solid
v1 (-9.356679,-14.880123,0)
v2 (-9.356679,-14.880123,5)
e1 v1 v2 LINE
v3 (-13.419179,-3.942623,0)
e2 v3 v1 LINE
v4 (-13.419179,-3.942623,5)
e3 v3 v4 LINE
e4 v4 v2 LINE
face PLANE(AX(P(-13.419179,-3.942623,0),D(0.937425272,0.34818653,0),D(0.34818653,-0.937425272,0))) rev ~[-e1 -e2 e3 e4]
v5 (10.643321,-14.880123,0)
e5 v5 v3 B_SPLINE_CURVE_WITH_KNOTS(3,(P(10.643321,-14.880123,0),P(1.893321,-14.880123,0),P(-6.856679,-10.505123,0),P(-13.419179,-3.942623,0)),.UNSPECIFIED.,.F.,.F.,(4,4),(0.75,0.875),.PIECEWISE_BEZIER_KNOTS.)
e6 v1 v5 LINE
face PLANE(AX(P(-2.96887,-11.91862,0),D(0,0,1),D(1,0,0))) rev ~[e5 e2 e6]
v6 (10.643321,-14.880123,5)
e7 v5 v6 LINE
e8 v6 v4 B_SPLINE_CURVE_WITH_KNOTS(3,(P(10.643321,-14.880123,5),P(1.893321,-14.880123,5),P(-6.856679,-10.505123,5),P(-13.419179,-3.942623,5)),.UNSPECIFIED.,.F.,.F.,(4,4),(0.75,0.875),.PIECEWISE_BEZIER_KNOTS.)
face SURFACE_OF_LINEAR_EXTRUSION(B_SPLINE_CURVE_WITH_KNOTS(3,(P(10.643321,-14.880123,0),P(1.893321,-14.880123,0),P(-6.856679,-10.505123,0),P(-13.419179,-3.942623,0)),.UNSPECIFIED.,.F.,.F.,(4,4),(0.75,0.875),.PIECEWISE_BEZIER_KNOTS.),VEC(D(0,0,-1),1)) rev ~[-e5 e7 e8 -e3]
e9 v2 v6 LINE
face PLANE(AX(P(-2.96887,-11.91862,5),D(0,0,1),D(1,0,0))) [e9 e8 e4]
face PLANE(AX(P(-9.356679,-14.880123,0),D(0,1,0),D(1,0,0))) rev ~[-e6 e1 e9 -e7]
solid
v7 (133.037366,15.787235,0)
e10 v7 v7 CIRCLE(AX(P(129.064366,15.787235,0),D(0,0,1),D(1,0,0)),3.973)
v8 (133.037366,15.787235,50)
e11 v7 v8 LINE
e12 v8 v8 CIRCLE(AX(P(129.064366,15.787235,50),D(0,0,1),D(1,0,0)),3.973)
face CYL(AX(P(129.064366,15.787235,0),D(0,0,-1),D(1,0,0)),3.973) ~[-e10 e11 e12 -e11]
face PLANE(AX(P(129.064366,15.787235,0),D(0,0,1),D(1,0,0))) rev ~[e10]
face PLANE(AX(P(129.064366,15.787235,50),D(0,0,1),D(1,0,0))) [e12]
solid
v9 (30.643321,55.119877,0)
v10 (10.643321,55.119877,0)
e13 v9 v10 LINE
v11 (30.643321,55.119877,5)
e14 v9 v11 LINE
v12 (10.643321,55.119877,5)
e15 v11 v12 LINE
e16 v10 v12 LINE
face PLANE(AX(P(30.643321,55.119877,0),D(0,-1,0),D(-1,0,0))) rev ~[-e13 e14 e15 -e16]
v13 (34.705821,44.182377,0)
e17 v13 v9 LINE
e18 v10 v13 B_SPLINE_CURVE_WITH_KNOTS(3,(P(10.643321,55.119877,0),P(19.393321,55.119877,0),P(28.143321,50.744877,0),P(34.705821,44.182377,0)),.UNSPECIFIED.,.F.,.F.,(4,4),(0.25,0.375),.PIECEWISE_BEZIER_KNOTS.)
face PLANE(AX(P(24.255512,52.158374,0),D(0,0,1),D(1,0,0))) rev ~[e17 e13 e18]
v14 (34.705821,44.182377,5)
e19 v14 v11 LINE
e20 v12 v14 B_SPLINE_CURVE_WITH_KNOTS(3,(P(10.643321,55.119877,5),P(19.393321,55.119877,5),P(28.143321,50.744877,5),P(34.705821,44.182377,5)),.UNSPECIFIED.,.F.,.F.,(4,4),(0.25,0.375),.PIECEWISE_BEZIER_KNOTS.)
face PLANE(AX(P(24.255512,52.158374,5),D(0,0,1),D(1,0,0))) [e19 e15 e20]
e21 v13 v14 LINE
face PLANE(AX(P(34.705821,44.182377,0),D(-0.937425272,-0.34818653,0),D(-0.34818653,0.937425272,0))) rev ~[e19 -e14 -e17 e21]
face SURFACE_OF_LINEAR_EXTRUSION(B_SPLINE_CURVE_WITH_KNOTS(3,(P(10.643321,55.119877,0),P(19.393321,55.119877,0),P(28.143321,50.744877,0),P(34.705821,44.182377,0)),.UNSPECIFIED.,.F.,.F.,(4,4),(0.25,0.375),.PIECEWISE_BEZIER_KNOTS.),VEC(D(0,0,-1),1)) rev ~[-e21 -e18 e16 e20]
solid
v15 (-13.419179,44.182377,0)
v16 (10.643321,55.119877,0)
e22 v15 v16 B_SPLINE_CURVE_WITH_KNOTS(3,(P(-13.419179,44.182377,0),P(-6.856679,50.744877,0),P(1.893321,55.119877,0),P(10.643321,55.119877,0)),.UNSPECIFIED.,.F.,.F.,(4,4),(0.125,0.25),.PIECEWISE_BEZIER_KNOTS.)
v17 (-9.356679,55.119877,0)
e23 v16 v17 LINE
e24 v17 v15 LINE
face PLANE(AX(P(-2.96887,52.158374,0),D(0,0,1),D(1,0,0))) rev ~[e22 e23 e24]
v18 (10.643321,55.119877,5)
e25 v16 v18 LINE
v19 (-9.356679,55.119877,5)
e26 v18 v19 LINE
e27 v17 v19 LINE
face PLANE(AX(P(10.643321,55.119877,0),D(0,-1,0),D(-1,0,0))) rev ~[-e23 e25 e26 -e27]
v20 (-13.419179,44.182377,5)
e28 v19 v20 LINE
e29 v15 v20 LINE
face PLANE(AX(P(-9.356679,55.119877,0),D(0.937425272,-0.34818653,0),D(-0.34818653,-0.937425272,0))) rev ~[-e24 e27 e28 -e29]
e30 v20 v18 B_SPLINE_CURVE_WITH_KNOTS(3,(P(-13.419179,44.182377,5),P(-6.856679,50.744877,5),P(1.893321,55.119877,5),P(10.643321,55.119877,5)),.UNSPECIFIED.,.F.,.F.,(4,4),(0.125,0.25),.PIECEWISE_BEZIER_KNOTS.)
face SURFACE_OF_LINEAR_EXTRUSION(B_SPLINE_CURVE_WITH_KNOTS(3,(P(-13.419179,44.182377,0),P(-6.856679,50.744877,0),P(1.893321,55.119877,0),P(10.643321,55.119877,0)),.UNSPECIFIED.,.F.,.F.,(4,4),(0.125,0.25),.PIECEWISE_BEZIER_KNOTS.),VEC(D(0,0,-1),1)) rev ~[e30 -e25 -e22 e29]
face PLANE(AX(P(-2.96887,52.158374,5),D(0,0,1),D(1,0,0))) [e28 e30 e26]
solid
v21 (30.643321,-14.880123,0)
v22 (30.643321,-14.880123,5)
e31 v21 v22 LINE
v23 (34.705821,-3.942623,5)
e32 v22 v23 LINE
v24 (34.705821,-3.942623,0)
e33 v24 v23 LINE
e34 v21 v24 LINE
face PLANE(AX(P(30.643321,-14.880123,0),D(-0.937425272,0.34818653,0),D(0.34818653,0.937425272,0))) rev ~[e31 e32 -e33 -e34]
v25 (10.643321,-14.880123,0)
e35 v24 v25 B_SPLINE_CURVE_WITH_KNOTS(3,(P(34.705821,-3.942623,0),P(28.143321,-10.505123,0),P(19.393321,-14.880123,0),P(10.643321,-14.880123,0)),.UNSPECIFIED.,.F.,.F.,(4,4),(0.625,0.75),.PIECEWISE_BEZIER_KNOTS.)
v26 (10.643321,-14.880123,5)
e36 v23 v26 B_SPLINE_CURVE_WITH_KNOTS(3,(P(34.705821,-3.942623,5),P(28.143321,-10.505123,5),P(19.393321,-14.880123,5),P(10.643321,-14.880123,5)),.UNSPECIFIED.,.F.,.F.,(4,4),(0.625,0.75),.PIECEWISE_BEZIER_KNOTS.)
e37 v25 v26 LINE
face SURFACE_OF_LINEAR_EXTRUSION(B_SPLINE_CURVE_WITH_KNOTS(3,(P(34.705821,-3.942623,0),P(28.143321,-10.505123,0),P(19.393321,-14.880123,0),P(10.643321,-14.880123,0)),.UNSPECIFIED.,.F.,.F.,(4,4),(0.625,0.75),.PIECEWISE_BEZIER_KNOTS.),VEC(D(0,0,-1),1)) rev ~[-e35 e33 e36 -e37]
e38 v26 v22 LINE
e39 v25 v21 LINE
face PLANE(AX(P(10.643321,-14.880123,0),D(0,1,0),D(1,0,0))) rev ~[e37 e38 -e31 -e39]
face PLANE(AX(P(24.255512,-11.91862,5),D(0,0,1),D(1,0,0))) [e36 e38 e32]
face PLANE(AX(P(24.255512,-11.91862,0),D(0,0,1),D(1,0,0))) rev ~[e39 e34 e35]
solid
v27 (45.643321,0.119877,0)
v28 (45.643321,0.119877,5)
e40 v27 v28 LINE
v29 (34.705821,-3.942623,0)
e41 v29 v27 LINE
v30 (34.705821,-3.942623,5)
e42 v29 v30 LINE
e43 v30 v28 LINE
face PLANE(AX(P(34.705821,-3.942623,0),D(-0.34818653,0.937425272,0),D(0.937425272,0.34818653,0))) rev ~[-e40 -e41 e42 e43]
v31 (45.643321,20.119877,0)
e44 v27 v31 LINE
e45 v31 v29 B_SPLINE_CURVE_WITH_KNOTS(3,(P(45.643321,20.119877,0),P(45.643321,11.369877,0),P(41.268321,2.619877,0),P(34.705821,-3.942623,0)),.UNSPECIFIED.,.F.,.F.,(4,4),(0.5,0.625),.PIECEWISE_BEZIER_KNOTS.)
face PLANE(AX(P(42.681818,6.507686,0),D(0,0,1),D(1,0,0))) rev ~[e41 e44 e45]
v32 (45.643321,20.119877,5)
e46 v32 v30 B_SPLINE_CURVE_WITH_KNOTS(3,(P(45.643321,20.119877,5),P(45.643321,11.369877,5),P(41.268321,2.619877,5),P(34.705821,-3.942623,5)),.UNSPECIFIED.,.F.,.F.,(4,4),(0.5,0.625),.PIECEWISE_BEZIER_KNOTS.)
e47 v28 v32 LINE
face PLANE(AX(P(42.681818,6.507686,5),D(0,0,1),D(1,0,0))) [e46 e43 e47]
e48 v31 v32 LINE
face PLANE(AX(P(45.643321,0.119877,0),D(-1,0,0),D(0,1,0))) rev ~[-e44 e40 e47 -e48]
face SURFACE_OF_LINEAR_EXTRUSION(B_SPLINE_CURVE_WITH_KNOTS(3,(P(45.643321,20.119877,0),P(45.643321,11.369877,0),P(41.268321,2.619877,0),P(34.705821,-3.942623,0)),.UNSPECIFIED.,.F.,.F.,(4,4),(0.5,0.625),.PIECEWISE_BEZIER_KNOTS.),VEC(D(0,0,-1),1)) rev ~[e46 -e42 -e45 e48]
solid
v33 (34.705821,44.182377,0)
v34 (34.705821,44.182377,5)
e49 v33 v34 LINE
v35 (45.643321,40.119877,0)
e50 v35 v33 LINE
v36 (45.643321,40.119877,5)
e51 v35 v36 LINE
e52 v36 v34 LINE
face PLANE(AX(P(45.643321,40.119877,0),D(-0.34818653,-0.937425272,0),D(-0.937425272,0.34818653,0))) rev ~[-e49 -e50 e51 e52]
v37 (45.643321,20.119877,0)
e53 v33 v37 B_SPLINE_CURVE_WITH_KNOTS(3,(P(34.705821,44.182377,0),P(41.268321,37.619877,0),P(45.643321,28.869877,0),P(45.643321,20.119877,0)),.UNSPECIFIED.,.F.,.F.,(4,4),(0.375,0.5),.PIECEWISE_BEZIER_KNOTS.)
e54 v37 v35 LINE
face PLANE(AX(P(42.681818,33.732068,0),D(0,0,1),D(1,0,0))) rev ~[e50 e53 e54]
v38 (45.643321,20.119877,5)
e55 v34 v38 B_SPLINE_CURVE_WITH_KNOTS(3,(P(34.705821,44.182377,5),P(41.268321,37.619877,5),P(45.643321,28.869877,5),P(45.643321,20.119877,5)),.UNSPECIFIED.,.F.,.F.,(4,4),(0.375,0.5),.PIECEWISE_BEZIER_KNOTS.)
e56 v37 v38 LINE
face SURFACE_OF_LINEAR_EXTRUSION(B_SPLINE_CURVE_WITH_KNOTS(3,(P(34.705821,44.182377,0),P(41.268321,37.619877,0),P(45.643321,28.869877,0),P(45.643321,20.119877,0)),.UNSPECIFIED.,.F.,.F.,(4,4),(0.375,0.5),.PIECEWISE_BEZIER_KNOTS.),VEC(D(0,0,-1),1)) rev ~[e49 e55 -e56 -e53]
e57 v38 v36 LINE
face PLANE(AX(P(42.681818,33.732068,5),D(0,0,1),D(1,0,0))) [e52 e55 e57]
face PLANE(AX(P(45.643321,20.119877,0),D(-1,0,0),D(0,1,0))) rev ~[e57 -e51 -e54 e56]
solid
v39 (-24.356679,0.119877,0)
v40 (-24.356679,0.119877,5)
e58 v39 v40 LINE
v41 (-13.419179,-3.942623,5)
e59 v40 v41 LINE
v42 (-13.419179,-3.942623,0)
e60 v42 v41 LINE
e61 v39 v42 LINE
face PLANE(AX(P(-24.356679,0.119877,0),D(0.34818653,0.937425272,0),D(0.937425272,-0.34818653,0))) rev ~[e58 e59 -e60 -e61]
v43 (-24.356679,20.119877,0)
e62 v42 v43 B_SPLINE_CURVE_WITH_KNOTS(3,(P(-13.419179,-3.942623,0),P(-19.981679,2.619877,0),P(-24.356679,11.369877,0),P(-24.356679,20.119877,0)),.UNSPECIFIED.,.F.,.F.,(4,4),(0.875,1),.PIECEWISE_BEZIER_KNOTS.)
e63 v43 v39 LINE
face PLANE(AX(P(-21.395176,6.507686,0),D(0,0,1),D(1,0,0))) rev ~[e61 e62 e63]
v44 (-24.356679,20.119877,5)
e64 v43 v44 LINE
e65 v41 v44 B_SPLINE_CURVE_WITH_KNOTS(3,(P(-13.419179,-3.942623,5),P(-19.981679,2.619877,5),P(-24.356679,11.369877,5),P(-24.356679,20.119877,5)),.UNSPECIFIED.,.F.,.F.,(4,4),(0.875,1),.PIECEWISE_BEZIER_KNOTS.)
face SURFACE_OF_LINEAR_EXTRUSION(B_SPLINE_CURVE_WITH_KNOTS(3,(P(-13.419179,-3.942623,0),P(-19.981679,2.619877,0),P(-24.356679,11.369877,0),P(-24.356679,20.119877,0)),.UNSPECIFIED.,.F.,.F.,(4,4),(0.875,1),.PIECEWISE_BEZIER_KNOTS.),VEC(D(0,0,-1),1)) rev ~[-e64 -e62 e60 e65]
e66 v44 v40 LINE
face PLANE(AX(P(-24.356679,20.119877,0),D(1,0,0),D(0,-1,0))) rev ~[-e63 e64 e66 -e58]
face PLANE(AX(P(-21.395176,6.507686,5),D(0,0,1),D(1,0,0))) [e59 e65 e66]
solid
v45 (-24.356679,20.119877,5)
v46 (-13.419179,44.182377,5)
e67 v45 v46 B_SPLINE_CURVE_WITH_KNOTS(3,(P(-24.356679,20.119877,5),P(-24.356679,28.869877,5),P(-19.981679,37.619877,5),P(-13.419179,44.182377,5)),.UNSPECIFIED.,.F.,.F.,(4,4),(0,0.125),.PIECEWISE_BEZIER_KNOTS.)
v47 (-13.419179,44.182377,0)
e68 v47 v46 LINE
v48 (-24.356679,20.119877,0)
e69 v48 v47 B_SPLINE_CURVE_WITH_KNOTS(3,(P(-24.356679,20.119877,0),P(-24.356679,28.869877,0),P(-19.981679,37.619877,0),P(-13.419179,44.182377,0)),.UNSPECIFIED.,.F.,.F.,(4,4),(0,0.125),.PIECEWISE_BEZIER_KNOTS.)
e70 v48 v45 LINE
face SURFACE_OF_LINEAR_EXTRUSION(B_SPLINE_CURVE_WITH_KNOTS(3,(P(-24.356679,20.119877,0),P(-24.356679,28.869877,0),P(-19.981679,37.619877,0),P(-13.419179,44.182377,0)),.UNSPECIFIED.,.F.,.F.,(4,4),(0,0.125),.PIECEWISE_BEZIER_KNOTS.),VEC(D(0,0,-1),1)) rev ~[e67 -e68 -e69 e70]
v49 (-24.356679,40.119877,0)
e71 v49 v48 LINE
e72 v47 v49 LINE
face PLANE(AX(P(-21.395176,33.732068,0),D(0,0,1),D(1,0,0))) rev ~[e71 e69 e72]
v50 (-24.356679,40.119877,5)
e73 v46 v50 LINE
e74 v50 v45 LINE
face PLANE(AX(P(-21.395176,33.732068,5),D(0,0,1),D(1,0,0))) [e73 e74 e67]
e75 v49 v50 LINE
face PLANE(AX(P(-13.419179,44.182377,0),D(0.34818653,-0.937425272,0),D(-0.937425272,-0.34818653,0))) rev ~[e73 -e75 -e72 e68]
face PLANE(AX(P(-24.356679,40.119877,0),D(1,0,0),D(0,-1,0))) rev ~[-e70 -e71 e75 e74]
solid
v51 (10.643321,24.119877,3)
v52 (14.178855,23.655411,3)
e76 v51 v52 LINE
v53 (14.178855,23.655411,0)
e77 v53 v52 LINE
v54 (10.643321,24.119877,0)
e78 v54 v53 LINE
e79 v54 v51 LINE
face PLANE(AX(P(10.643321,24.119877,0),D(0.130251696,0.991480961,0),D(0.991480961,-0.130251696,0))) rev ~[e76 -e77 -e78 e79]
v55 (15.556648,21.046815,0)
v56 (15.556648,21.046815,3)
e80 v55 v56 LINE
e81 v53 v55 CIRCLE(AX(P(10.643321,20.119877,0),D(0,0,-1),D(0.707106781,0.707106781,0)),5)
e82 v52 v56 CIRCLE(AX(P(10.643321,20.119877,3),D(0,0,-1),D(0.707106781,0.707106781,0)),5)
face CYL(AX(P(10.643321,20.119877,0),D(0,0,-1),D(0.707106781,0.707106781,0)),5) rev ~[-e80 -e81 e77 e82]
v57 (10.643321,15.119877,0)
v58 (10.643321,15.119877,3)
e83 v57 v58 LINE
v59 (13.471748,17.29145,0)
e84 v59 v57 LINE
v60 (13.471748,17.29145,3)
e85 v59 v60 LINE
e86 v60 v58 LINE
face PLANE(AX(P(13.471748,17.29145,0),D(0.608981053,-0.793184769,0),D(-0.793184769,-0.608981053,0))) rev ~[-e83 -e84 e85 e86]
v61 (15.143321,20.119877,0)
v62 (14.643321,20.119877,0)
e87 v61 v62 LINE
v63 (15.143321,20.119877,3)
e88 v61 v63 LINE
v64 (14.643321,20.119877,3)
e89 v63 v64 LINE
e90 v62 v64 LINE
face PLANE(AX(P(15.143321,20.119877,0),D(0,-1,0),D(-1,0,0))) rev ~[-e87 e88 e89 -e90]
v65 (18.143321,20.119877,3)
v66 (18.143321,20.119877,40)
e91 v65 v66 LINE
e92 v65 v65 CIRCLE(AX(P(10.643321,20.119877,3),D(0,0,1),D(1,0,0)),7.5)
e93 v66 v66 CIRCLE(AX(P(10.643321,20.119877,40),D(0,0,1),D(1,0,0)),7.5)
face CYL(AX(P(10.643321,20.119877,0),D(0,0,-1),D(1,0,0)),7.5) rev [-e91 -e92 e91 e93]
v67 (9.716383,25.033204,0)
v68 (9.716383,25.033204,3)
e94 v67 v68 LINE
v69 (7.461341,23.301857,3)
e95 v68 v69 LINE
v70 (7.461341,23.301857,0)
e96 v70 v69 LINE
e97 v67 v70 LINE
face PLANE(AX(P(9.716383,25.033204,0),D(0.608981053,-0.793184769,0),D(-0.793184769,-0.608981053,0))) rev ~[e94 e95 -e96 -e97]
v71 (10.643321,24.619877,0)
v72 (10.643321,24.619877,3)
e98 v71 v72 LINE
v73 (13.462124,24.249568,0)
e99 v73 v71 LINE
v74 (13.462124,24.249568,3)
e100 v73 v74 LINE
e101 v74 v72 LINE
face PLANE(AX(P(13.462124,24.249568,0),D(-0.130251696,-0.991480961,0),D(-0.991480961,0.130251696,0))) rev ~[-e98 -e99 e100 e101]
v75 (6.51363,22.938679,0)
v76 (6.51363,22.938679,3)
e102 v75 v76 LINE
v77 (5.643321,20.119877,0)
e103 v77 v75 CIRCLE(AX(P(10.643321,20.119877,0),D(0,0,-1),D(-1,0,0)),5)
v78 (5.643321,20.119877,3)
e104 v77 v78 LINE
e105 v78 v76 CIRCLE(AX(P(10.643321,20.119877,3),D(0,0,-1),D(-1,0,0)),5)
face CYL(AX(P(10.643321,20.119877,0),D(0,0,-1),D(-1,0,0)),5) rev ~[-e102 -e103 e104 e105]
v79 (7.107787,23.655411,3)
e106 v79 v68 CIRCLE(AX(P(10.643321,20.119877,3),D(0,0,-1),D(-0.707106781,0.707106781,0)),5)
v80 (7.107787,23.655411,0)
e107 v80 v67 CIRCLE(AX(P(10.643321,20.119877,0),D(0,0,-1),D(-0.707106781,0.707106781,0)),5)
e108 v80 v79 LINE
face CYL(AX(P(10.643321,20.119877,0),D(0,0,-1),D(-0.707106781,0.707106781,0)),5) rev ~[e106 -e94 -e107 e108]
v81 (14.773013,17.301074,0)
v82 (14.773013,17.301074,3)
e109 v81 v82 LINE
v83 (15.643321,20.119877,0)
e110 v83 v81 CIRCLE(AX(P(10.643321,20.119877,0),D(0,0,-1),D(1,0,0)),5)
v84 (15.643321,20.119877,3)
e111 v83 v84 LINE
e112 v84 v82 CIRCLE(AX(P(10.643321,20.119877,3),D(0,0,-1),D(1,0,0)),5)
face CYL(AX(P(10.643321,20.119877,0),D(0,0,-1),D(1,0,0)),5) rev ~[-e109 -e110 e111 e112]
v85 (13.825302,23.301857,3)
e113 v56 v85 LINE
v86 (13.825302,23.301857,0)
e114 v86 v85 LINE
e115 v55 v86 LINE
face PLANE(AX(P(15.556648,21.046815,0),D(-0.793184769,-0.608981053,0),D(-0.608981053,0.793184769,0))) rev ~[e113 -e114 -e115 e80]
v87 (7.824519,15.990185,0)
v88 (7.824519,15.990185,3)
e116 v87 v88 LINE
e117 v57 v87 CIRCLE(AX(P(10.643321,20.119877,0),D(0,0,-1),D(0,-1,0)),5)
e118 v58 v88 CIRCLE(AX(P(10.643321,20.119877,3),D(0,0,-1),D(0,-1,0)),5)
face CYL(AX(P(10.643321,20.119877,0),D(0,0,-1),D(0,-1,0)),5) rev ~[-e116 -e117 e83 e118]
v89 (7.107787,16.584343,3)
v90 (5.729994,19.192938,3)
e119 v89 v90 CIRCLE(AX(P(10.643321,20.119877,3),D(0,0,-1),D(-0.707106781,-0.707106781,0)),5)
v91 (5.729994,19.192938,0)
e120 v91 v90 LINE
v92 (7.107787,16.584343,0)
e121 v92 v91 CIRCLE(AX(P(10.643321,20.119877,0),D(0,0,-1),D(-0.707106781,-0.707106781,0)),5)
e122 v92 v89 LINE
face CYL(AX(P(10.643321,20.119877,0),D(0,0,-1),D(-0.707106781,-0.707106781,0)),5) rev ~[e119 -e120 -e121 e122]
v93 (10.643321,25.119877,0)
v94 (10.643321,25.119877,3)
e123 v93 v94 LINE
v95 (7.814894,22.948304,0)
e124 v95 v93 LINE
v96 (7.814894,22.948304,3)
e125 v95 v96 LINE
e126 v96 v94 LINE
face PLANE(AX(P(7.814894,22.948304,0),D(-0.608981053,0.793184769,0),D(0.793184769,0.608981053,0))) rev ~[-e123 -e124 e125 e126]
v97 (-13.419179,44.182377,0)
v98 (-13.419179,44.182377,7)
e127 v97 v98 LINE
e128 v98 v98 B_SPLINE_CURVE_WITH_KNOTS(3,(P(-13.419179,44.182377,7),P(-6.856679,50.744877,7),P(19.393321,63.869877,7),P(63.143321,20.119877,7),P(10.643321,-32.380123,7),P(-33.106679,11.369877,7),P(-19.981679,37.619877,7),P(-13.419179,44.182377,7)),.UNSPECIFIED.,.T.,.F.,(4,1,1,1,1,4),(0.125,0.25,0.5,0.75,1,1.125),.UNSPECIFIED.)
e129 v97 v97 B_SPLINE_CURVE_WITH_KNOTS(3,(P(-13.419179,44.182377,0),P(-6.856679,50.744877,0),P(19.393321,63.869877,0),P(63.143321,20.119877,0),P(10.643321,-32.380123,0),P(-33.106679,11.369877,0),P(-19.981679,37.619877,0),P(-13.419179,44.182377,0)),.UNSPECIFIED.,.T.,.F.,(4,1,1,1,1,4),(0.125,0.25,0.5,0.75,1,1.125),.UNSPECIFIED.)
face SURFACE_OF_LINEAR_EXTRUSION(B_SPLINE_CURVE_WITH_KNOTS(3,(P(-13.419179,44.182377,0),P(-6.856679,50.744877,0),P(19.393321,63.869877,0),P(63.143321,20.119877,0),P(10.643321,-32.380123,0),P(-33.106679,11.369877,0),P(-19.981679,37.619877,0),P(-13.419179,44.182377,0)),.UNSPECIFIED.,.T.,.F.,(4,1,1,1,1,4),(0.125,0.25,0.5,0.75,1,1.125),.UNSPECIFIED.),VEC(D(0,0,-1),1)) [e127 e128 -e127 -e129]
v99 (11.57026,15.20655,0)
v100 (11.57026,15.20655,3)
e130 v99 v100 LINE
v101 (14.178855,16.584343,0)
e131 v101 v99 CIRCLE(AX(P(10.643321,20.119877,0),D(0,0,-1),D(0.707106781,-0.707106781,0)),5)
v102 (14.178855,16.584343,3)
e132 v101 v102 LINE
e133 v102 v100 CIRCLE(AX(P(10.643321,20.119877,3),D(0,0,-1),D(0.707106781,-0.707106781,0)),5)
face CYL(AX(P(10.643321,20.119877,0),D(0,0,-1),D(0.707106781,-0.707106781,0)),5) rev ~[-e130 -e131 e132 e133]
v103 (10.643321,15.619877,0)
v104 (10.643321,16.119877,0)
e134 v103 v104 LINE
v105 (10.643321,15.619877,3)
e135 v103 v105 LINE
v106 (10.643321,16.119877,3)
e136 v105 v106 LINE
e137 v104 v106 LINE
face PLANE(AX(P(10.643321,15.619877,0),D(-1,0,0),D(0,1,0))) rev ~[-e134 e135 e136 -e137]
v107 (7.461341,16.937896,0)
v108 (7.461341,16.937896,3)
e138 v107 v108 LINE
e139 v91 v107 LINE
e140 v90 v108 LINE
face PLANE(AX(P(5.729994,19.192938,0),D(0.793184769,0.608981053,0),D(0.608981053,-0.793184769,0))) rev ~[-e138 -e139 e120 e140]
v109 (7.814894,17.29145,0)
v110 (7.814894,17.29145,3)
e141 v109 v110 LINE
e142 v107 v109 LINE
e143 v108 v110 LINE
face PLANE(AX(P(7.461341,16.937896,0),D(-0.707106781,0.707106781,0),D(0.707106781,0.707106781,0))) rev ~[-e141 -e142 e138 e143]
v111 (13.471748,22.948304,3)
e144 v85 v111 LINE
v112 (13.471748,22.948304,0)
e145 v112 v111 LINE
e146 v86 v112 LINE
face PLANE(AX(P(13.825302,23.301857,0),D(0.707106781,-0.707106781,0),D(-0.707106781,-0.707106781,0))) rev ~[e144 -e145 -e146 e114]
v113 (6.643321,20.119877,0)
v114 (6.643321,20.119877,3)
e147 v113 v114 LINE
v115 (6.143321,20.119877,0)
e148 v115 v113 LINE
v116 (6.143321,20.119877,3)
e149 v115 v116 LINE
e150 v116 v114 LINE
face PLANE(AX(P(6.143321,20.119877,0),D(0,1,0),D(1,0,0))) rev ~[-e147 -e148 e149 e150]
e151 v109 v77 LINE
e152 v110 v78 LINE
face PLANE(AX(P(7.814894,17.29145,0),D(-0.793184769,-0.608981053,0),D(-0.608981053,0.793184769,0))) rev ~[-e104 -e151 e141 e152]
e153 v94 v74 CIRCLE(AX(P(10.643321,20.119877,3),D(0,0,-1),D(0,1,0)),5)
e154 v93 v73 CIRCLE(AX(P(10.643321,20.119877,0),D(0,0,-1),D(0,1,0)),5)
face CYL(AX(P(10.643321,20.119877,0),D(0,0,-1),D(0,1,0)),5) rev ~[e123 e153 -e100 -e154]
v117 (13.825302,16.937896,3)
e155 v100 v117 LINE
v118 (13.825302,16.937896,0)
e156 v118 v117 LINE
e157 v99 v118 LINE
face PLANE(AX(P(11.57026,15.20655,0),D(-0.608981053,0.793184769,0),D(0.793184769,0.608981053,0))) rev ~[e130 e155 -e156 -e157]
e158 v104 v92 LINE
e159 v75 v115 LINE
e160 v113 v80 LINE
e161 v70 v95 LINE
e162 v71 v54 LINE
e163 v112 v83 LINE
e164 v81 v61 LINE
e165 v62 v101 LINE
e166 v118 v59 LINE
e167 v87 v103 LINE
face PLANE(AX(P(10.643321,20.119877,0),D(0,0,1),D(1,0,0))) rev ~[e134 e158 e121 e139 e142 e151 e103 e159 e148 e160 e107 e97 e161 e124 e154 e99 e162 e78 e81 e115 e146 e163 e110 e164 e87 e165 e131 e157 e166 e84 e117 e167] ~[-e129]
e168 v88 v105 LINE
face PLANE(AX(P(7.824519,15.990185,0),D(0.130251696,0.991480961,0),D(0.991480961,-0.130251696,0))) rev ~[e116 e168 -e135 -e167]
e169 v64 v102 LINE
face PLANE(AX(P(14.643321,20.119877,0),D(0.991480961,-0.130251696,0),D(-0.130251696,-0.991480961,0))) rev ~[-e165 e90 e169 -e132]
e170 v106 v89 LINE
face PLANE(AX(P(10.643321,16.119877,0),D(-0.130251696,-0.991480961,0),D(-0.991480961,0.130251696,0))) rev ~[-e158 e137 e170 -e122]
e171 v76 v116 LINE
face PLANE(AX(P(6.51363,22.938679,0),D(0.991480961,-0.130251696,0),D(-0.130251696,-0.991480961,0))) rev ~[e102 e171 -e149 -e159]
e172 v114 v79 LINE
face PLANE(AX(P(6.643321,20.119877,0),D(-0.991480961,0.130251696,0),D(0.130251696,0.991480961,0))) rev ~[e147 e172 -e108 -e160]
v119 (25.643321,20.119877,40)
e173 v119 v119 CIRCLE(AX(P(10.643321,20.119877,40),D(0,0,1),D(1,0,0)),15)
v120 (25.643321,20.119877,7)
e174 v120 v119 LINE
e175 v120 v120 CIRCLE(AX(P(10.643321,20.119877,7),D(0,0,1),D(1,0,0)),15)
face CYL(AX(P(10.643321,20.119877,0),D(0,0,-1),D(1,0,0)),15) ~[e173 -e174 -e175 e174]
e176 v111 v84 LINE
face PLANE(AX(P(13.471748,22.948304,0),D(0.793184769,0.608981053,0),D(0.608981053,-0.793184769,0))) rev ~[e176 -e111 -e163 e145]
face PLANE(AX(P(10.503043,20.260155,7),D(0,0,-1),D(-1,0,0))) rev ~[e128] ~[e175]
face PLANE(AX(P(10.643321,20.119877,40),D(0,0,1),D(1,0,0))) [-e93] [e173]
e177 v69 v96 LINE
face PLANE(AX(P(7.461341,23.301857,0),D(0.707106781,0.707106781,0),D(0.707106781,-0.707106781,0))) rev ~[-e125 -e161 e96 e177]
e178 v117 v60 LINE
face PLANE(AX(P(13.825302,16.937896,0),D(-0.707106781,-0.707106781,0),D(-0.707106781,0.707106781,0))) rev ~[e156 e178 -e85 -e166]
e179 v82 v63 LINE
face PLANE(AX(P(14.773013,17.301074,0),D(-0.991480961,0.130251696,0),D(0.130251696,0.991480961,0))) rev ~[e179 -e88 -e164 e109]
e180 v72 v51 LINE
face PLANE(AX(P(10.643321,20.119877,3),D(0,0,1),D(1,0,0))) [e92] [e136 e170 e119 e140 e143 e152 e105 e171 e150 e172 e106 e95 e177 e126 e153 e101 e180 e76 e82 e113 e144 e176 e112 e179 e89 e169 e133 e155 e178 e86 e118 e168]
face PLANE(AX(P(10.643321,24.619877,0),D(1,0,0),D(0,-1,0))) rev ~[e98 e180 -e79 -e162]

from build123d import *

# Parameters (mm, degrees)
F1_DEPTH = 5
F0_R     = 15
F2_DEPTH = 7
F0_R_2   = 7.5
F3_DEPTH = 40
F4_DEPTH = 3
F0_R_3   = 3.973
F5_DEPTH = 50


with BuildPart() as f1:
    # F0 (on Top) → F1 (new body)
    with BuildSketch(Plane.XY):
        with BuildLine():
            Line((-24.3566787988, 40.11987683), (-24.3566787988, 20.11987683))
            add(Edge.make_bspline(
                [(-24.3566787988, 20.11987683), (-24.3566787988, 28.86987683), (-19.9816787988, 37.61987683), (-13.4191787988, 44.18237683)],
                knots=[0, 0, 0, 0, 0.125, 0.125, 0.125, 0.125], degree=3))
            Line((-13.4191787988, 44.18237683), (-24.3566787988, 40.11987683))
        make_face()
    extrude(amount=F1_DEPTH)


with BuildPart() as f1b:
    # F0 (on Top) → F1, piece 2 (new body)
    with BuildSketch(Plane.XY):
        with BuildLine():
            Line((-9.3566787988, 55.11987683), (-13.4191787988, 44.18237683))
            add(Edge.make_bspline(
                [(-13.4191787988, 44.18237683), (-6.8566787988, 50.74487683), (1.8933212012, 55.11987683), (10.6433212012, 55.11987683)],
                knots=[0.125, 0.125, 0.125, 0.125, 0.25, 0.25, 0.25, 0.25], degree=3))
            Line((10.6433212012, 55.11987683), (-9.3566787988, 55.11987683))
        make_face()
    extrude(amount=F1_DEPTH)


with BuildPart() as f1c:
    # F0 (on Top) → F1, piece 3 (new body)
    with BuildSketch(Plane.XY):
        with BuildLine():
            Line((30.6433212012, 55.11987683), (10.6433212012, 55.11987683))
            add(Edge.make_bspline(
                [(10.6433212012, 55.11987683), (19.3933212012, 55.11987683), (28.1433212012, 50.74487683), (34.7058212012, 44.18237683)],
                knots=[0.25, 0.25, 0.25, 0.25, 0.375, 0.375, 0.375, 0.375], degree=3))
            Line((34.7058212012, 44.18237683), (30.6433212012, 55.11987683))
        make_face()
    extrude(amount=F1_DEPTH)


with BuildPart() as f1d:
    # F0 (on Top) → F1, piece 4 (new body)
    with BuildSketch(Plane.XY):
        with BuildLine():
            Line((45.6433212012, 40.11987683), (34.7058212012, 44.18237683))
            add(Edge.make_bspline(
                [(34.7058212012, 44.18237683), (41.2683212012, 37.61987683), (45.6433212012, 28.86987683), (45.6433212012, 20.11987683)],
                knots=[0.375, 0.375, 0.375, 0.375, 0.5, 0.5, 0.5, 0.5], degree=3))
            Line((45.6433212012, 20.11987683), (45.6433212012, 40.11987683))
        make_face()
    extrude(amount=F1_DEPTH)


with BuildPart() as f1e:
    # F0 (on Top) → F1, piece 5 (new body)
    with BuildSketch(Plane.XY):
        with BuildLine():
            add(Edge.make_bspline(
                [(45.6433212012, 20.11987683), (45.6433212012, 11.36987683), (41.2683212012, 2.61987683), (34.7058212012, -3.94262317)],
                knots=[0.5, 0.5, 0.5, 0.5, 0.625, 0.625, 0.625, 0.625], degree=3))
            Line((34.7058212012, -3.94262317), (45.6433212012, 0.11987683))
            Line((45.6433212012, 0.11987683), (45.6433212012, 20.11987683))
        make_face()
    extrude(amount=F1_DEPTH)


with BuildPart() as f1f:
    # F0 (on Top) → F1, piece 6 (new body)
    with BuildSketch(Plane.XY):
        with BuildLine():
            add(Edge.make_bspline(
                [(34.7058212012, -3.94262317), (28.1433212012, -10.50512317), (19.3933212012, -14.88012317), (10.6433212012, -14.88012317)],
                knots=[0.625, 0.625, 0.625, 0.625, 0.75, 0.75, 0.75, 0.75], degree=3))
            Line((10.6433212012, -14.88012317), (30.6433212012, -14.88012317))
            Line((30.6433212012, -14.88012317), (34.7058212012, -3.94262317))
        make_face()
    extrude(amount=F1_DEPTH)


with BuildPart() as f1g:
    # F0 (on Top) → F1, piece 7 (new body)
    with BuildSketch(Plane.XY):
        with BuildLine():
            add(Edge.make_bspline(
                [(10.6433212012, -14.88012317), (1.8933212012, -14.88012317), (-6.8566787988, -10.50512317), (-13.4191787988, -3.94262317)],
                knots=[0.75, 0.75, 0.75, 0.75, 0.875, 0.875, 0.875, 0.875], degree=3))
            Line((-13.4191787988, -3.94262317), (-9.3566787988, -14.88012317))
            Line((-9.3566787988, -14.88012317), (10.6433212012, -14.88012317))
        make_face()
    extrude(amount=F1_DEPTH)


with BuildPart() as f1h:
    # F0 (on Top) → F1, piece 8 (new body)
    with BuildSketch(Plane.XY):
        with BuildLine():
            add(Edge.make_bspline(
                [(-13.4191787988, -3.94262317), (-19.9816787988, 2.61987683), (-24.3566787988, 11.36987683), (-24.3566787988, 20.11987683)],
                knots=[0.875, 0.875, 0.875, 0.875, 1, 1, 1, 1], degree=3))
            Line((-24.3566787988, 20.11987683), (-24.3566787988, 0.11987683))
            Line((-24.3566787988, 0.11987683), (-13.4191787988, -3.94262317))
        make_face()
    extrude(amount=F1_DEPTH)


with BuildPart() as f2:
    # F0 (on Top) → F2 (new body)
    with BuildSketch(Plane.XY):
        with BuildLine():
            add(Edge.make_bspline(
                [(-24.3566787988, 20.11987683), (-24.3566787988, 28.86987683), (-19.9816787988, 37.61987683), (-13.4191787988, 44.18237683)],
                knots=[0, 0, 0, 0, 0.125, 0.125, 0.125, 0.125], degree=3))
            add(Edge.make_bspline(
                [(-13.4191787988, -3.94262317), (-19.9816787988, 2.61987683), (-24.3566787988, 11.36987683), (-24.3566787988, 20.11987683)],
                knots=[0.875, 0.875, 0.875, 0.875, 1, 1, 1, 1], degree=3))
            add(Edge.make_bspline(
                [(10.6433212012, -14.88012317), (1.8933212012, -14.88012317), (-6.8566787988, -10.50512317), (-13.4191787988, -3.94262317)],
                knots=[0.75, 0.75, 0.75, 0.75, 0.875, 0.875, 0.875, 0.875], degree=3))
            add(Edge.make_bspline(
                [(34.7058212012, -3.94262317), (28.1433212012, -10.50512317), (19.3933212012, -14.88012317), (10.6433212012, -14.88012317)],
                knots=[0.625, 0.625, 0.625, 0.625, 0.75, 0.75, 0.75, 0.75], degree=3))
            add(Edge.make_bspline(
                [(45.6433212012, 20.11987683), (45.6433212012, 11.36987683), (41.2683212012, 2.61987683), (34.7058212012, -3.94262317)],
                knots=[0.5, 0.5, 0.5, 0.5, 0.625, 0.625, 0.625, 0.625], degree=3))
            add(Edge.make_bspline(
                [(34.7058212012, 44.18237683), (41.2683212012, 37.61987683), (45.6433212012, 28.86987683), (45.6433212012, 20.11987683)],
                knots=[0.375, 0.375, 0.375, 0.375, 0.5, 0.5, 0.5, 0.5], degree=3))
            add(Edge.make_bspline(
                [(10.6433212012, 55.11987683), (19.3933212012, 55.11987683), (28.1433212012, 50.74487683), (34.7058212012, 44.18237683)],
                knots=[0.25, 0.25, 0.25, 0.25, 0.375, 0.375, 0.375, 0.375], degree=3))
            add(Edge.make_bspline(
                [(-13.4191787988, 44.18237683), (-6.8566787988, 50.74487683), (1.8933212012, 55.11987683), (10.6433212012, 55.11987683)],
                knots=[0.125, 0.125, 0.125, 0.125, 0.25, 0.25, 0.25, 0.25], degree=3))
        make_face()
        with Locations((10.6433212012, 20.11987683)):
            Circle(F0_R, mode=Mode.SUBTRACT)
    extrude(amount=F2_DEPTH)

    # F0 (on Top) → F3 (join)
    with BuildSketch(Plane.XY):
        with Locations((10.6433212012, 20.11987683)):
            Circle(F0_R)
        with Locations((10.6433212012, 20.11987683)):
            Circle(F0_R_2, mode=Mode.SUBTRACT)
    extrude(amount=F3_DEPTH)

    # F0 (on Top) → F4 (join)
    with BuildSketch(Plane.XY):
        with Locations((10.6433212012, 20.11987683)):
            Circle(F0_R_2)
        with BuildLine():
            ThreePointArc((7.1077872953, 23.655410736), (8.3081566414, 24.5410764951), (9.7163827591, 25.0332041267))
            Line((9.7163827591, 25.0332041267), (7.4613406859, 23.3018573454))
            Line((7.4613406859, 23.3018573454), (7.8148940765, 22.9483039548))
            Line((7.8148940765, 22.9483039548), (10.6433212012, 25.11987683))
            ThreePointArc((10.6433212012, 25.11987683), (12.11837077, 24.8973477896), (13.4621237927, 24.2495683379))
            Line((13.4621237927, 24.2495683379), (10.6433212012, 24.61987683))
            Line((10.6433212012, 24.61987683), (10.6433212012, 24.11987683))
            Line((10.6433212012, 24.11987683), (14.1788551071, 23.655410736))
            ThreePointArc((14.1788551071, 23.655410736), (15.0645208663, 22.4550413898), (15.5566484979, 21.0468152722))
            Line((15.5566484979, 21.0468152722), (13.8253017165, 23.3018573454))
            Line((13.8253017165, 23.3018573454), (13.471748326, 22.9483039548))
            Line((13.471748326, 22.9483039548), (15.6433212012, 20.11987683))
            ThreePointArc((15.6433212012, 20.11987683), (15.4207921608, 18.6448272613), (14.7730127091, 17.3010742385))
            Line((14.7730127091, 17.3010742385), (15.1433212012, 20.11987683))
            Line((15.1433212012, 20.11987683), (14.6433212012, 20.11987683))
            Line((14.6433212012, 20.11987683), (14.1788551071, 16.5843429241))
            ThreePointArc((14.1788551071, 16.5843429241), (12.978485761, 15.6986771649), (11.5702596433, 15.2065495333))
            Line((11.5702596433, 15.2065495333), (13.8253017165, 16.9378963147))
            Line((13.8253017165, 16.9378963147), (13.471748326, 17.2914497053))
            Line((13.471748326, 17.2914497053), (10.6433212012, 15.11987683))
            ThreePointArc((10.6433212012, 15.11987683), (9.1682716324, 15.3424058705), (7.8245186097, 15.9901853222))
            Line((7.8245186097, 15.9901853222), (10.6433212012, 15.61987683))
            Line((10.6433212012, 15.61987683), (10.6433212012, 16.11987683))
            Line((10.6433212012, 16.11987683), (7.1077872953, 16.5843429241))
            ThreePointArc((7.1077872953, 16.5843429241), (6.2221215361, 17.7847122703), (5.7299939045, 19.1929383879))
            Line((5.7299939045, 19.1929383879), (7.4613406859, 16.9378963147))
            Line((7.4613406859, 16.9378963147), (7.6381173812, 17.11467301))
            Line((7.6381173812, 17.11467301), (7.8148940765, 17.2914497053))
            Line((7.8148940765, 17.2914497053), (5.6433212012, 20.11987683))
            ThreePointArc((5.6433212012, 20.11987683), (5.8658502416, 21.5949263988), (6.5136296933, 22.9386794215))
            Line((6.5136296933, 22.9386794215), (6.1433212012, 20.11987683))
            Line((6.1433212012, 20.11987683), (6.6433212012, 20.11987683))
            Line((6.6433212012, 20.11987683), (7.1077872953, 23.655410736))
        make_face(mode=Mode.SUBTRACT)
    extrude(amount=F4_DEPTH)


with BuildPart() as f5:
    # F0 (on Top) → F5 (new body)
    with BuildSketch(Plane.XY):
        with Locations((129.0643662214, 15.7872345299)):
            Circle(F0_R_3)
    extrude(amount=F5_DEPTH)


solid = Compound([f1.part, f1b.part, f1c.part, f1d.part, f1e.part, f1f.part, f1g.part, f1h.part, f2.part, f5.part])
